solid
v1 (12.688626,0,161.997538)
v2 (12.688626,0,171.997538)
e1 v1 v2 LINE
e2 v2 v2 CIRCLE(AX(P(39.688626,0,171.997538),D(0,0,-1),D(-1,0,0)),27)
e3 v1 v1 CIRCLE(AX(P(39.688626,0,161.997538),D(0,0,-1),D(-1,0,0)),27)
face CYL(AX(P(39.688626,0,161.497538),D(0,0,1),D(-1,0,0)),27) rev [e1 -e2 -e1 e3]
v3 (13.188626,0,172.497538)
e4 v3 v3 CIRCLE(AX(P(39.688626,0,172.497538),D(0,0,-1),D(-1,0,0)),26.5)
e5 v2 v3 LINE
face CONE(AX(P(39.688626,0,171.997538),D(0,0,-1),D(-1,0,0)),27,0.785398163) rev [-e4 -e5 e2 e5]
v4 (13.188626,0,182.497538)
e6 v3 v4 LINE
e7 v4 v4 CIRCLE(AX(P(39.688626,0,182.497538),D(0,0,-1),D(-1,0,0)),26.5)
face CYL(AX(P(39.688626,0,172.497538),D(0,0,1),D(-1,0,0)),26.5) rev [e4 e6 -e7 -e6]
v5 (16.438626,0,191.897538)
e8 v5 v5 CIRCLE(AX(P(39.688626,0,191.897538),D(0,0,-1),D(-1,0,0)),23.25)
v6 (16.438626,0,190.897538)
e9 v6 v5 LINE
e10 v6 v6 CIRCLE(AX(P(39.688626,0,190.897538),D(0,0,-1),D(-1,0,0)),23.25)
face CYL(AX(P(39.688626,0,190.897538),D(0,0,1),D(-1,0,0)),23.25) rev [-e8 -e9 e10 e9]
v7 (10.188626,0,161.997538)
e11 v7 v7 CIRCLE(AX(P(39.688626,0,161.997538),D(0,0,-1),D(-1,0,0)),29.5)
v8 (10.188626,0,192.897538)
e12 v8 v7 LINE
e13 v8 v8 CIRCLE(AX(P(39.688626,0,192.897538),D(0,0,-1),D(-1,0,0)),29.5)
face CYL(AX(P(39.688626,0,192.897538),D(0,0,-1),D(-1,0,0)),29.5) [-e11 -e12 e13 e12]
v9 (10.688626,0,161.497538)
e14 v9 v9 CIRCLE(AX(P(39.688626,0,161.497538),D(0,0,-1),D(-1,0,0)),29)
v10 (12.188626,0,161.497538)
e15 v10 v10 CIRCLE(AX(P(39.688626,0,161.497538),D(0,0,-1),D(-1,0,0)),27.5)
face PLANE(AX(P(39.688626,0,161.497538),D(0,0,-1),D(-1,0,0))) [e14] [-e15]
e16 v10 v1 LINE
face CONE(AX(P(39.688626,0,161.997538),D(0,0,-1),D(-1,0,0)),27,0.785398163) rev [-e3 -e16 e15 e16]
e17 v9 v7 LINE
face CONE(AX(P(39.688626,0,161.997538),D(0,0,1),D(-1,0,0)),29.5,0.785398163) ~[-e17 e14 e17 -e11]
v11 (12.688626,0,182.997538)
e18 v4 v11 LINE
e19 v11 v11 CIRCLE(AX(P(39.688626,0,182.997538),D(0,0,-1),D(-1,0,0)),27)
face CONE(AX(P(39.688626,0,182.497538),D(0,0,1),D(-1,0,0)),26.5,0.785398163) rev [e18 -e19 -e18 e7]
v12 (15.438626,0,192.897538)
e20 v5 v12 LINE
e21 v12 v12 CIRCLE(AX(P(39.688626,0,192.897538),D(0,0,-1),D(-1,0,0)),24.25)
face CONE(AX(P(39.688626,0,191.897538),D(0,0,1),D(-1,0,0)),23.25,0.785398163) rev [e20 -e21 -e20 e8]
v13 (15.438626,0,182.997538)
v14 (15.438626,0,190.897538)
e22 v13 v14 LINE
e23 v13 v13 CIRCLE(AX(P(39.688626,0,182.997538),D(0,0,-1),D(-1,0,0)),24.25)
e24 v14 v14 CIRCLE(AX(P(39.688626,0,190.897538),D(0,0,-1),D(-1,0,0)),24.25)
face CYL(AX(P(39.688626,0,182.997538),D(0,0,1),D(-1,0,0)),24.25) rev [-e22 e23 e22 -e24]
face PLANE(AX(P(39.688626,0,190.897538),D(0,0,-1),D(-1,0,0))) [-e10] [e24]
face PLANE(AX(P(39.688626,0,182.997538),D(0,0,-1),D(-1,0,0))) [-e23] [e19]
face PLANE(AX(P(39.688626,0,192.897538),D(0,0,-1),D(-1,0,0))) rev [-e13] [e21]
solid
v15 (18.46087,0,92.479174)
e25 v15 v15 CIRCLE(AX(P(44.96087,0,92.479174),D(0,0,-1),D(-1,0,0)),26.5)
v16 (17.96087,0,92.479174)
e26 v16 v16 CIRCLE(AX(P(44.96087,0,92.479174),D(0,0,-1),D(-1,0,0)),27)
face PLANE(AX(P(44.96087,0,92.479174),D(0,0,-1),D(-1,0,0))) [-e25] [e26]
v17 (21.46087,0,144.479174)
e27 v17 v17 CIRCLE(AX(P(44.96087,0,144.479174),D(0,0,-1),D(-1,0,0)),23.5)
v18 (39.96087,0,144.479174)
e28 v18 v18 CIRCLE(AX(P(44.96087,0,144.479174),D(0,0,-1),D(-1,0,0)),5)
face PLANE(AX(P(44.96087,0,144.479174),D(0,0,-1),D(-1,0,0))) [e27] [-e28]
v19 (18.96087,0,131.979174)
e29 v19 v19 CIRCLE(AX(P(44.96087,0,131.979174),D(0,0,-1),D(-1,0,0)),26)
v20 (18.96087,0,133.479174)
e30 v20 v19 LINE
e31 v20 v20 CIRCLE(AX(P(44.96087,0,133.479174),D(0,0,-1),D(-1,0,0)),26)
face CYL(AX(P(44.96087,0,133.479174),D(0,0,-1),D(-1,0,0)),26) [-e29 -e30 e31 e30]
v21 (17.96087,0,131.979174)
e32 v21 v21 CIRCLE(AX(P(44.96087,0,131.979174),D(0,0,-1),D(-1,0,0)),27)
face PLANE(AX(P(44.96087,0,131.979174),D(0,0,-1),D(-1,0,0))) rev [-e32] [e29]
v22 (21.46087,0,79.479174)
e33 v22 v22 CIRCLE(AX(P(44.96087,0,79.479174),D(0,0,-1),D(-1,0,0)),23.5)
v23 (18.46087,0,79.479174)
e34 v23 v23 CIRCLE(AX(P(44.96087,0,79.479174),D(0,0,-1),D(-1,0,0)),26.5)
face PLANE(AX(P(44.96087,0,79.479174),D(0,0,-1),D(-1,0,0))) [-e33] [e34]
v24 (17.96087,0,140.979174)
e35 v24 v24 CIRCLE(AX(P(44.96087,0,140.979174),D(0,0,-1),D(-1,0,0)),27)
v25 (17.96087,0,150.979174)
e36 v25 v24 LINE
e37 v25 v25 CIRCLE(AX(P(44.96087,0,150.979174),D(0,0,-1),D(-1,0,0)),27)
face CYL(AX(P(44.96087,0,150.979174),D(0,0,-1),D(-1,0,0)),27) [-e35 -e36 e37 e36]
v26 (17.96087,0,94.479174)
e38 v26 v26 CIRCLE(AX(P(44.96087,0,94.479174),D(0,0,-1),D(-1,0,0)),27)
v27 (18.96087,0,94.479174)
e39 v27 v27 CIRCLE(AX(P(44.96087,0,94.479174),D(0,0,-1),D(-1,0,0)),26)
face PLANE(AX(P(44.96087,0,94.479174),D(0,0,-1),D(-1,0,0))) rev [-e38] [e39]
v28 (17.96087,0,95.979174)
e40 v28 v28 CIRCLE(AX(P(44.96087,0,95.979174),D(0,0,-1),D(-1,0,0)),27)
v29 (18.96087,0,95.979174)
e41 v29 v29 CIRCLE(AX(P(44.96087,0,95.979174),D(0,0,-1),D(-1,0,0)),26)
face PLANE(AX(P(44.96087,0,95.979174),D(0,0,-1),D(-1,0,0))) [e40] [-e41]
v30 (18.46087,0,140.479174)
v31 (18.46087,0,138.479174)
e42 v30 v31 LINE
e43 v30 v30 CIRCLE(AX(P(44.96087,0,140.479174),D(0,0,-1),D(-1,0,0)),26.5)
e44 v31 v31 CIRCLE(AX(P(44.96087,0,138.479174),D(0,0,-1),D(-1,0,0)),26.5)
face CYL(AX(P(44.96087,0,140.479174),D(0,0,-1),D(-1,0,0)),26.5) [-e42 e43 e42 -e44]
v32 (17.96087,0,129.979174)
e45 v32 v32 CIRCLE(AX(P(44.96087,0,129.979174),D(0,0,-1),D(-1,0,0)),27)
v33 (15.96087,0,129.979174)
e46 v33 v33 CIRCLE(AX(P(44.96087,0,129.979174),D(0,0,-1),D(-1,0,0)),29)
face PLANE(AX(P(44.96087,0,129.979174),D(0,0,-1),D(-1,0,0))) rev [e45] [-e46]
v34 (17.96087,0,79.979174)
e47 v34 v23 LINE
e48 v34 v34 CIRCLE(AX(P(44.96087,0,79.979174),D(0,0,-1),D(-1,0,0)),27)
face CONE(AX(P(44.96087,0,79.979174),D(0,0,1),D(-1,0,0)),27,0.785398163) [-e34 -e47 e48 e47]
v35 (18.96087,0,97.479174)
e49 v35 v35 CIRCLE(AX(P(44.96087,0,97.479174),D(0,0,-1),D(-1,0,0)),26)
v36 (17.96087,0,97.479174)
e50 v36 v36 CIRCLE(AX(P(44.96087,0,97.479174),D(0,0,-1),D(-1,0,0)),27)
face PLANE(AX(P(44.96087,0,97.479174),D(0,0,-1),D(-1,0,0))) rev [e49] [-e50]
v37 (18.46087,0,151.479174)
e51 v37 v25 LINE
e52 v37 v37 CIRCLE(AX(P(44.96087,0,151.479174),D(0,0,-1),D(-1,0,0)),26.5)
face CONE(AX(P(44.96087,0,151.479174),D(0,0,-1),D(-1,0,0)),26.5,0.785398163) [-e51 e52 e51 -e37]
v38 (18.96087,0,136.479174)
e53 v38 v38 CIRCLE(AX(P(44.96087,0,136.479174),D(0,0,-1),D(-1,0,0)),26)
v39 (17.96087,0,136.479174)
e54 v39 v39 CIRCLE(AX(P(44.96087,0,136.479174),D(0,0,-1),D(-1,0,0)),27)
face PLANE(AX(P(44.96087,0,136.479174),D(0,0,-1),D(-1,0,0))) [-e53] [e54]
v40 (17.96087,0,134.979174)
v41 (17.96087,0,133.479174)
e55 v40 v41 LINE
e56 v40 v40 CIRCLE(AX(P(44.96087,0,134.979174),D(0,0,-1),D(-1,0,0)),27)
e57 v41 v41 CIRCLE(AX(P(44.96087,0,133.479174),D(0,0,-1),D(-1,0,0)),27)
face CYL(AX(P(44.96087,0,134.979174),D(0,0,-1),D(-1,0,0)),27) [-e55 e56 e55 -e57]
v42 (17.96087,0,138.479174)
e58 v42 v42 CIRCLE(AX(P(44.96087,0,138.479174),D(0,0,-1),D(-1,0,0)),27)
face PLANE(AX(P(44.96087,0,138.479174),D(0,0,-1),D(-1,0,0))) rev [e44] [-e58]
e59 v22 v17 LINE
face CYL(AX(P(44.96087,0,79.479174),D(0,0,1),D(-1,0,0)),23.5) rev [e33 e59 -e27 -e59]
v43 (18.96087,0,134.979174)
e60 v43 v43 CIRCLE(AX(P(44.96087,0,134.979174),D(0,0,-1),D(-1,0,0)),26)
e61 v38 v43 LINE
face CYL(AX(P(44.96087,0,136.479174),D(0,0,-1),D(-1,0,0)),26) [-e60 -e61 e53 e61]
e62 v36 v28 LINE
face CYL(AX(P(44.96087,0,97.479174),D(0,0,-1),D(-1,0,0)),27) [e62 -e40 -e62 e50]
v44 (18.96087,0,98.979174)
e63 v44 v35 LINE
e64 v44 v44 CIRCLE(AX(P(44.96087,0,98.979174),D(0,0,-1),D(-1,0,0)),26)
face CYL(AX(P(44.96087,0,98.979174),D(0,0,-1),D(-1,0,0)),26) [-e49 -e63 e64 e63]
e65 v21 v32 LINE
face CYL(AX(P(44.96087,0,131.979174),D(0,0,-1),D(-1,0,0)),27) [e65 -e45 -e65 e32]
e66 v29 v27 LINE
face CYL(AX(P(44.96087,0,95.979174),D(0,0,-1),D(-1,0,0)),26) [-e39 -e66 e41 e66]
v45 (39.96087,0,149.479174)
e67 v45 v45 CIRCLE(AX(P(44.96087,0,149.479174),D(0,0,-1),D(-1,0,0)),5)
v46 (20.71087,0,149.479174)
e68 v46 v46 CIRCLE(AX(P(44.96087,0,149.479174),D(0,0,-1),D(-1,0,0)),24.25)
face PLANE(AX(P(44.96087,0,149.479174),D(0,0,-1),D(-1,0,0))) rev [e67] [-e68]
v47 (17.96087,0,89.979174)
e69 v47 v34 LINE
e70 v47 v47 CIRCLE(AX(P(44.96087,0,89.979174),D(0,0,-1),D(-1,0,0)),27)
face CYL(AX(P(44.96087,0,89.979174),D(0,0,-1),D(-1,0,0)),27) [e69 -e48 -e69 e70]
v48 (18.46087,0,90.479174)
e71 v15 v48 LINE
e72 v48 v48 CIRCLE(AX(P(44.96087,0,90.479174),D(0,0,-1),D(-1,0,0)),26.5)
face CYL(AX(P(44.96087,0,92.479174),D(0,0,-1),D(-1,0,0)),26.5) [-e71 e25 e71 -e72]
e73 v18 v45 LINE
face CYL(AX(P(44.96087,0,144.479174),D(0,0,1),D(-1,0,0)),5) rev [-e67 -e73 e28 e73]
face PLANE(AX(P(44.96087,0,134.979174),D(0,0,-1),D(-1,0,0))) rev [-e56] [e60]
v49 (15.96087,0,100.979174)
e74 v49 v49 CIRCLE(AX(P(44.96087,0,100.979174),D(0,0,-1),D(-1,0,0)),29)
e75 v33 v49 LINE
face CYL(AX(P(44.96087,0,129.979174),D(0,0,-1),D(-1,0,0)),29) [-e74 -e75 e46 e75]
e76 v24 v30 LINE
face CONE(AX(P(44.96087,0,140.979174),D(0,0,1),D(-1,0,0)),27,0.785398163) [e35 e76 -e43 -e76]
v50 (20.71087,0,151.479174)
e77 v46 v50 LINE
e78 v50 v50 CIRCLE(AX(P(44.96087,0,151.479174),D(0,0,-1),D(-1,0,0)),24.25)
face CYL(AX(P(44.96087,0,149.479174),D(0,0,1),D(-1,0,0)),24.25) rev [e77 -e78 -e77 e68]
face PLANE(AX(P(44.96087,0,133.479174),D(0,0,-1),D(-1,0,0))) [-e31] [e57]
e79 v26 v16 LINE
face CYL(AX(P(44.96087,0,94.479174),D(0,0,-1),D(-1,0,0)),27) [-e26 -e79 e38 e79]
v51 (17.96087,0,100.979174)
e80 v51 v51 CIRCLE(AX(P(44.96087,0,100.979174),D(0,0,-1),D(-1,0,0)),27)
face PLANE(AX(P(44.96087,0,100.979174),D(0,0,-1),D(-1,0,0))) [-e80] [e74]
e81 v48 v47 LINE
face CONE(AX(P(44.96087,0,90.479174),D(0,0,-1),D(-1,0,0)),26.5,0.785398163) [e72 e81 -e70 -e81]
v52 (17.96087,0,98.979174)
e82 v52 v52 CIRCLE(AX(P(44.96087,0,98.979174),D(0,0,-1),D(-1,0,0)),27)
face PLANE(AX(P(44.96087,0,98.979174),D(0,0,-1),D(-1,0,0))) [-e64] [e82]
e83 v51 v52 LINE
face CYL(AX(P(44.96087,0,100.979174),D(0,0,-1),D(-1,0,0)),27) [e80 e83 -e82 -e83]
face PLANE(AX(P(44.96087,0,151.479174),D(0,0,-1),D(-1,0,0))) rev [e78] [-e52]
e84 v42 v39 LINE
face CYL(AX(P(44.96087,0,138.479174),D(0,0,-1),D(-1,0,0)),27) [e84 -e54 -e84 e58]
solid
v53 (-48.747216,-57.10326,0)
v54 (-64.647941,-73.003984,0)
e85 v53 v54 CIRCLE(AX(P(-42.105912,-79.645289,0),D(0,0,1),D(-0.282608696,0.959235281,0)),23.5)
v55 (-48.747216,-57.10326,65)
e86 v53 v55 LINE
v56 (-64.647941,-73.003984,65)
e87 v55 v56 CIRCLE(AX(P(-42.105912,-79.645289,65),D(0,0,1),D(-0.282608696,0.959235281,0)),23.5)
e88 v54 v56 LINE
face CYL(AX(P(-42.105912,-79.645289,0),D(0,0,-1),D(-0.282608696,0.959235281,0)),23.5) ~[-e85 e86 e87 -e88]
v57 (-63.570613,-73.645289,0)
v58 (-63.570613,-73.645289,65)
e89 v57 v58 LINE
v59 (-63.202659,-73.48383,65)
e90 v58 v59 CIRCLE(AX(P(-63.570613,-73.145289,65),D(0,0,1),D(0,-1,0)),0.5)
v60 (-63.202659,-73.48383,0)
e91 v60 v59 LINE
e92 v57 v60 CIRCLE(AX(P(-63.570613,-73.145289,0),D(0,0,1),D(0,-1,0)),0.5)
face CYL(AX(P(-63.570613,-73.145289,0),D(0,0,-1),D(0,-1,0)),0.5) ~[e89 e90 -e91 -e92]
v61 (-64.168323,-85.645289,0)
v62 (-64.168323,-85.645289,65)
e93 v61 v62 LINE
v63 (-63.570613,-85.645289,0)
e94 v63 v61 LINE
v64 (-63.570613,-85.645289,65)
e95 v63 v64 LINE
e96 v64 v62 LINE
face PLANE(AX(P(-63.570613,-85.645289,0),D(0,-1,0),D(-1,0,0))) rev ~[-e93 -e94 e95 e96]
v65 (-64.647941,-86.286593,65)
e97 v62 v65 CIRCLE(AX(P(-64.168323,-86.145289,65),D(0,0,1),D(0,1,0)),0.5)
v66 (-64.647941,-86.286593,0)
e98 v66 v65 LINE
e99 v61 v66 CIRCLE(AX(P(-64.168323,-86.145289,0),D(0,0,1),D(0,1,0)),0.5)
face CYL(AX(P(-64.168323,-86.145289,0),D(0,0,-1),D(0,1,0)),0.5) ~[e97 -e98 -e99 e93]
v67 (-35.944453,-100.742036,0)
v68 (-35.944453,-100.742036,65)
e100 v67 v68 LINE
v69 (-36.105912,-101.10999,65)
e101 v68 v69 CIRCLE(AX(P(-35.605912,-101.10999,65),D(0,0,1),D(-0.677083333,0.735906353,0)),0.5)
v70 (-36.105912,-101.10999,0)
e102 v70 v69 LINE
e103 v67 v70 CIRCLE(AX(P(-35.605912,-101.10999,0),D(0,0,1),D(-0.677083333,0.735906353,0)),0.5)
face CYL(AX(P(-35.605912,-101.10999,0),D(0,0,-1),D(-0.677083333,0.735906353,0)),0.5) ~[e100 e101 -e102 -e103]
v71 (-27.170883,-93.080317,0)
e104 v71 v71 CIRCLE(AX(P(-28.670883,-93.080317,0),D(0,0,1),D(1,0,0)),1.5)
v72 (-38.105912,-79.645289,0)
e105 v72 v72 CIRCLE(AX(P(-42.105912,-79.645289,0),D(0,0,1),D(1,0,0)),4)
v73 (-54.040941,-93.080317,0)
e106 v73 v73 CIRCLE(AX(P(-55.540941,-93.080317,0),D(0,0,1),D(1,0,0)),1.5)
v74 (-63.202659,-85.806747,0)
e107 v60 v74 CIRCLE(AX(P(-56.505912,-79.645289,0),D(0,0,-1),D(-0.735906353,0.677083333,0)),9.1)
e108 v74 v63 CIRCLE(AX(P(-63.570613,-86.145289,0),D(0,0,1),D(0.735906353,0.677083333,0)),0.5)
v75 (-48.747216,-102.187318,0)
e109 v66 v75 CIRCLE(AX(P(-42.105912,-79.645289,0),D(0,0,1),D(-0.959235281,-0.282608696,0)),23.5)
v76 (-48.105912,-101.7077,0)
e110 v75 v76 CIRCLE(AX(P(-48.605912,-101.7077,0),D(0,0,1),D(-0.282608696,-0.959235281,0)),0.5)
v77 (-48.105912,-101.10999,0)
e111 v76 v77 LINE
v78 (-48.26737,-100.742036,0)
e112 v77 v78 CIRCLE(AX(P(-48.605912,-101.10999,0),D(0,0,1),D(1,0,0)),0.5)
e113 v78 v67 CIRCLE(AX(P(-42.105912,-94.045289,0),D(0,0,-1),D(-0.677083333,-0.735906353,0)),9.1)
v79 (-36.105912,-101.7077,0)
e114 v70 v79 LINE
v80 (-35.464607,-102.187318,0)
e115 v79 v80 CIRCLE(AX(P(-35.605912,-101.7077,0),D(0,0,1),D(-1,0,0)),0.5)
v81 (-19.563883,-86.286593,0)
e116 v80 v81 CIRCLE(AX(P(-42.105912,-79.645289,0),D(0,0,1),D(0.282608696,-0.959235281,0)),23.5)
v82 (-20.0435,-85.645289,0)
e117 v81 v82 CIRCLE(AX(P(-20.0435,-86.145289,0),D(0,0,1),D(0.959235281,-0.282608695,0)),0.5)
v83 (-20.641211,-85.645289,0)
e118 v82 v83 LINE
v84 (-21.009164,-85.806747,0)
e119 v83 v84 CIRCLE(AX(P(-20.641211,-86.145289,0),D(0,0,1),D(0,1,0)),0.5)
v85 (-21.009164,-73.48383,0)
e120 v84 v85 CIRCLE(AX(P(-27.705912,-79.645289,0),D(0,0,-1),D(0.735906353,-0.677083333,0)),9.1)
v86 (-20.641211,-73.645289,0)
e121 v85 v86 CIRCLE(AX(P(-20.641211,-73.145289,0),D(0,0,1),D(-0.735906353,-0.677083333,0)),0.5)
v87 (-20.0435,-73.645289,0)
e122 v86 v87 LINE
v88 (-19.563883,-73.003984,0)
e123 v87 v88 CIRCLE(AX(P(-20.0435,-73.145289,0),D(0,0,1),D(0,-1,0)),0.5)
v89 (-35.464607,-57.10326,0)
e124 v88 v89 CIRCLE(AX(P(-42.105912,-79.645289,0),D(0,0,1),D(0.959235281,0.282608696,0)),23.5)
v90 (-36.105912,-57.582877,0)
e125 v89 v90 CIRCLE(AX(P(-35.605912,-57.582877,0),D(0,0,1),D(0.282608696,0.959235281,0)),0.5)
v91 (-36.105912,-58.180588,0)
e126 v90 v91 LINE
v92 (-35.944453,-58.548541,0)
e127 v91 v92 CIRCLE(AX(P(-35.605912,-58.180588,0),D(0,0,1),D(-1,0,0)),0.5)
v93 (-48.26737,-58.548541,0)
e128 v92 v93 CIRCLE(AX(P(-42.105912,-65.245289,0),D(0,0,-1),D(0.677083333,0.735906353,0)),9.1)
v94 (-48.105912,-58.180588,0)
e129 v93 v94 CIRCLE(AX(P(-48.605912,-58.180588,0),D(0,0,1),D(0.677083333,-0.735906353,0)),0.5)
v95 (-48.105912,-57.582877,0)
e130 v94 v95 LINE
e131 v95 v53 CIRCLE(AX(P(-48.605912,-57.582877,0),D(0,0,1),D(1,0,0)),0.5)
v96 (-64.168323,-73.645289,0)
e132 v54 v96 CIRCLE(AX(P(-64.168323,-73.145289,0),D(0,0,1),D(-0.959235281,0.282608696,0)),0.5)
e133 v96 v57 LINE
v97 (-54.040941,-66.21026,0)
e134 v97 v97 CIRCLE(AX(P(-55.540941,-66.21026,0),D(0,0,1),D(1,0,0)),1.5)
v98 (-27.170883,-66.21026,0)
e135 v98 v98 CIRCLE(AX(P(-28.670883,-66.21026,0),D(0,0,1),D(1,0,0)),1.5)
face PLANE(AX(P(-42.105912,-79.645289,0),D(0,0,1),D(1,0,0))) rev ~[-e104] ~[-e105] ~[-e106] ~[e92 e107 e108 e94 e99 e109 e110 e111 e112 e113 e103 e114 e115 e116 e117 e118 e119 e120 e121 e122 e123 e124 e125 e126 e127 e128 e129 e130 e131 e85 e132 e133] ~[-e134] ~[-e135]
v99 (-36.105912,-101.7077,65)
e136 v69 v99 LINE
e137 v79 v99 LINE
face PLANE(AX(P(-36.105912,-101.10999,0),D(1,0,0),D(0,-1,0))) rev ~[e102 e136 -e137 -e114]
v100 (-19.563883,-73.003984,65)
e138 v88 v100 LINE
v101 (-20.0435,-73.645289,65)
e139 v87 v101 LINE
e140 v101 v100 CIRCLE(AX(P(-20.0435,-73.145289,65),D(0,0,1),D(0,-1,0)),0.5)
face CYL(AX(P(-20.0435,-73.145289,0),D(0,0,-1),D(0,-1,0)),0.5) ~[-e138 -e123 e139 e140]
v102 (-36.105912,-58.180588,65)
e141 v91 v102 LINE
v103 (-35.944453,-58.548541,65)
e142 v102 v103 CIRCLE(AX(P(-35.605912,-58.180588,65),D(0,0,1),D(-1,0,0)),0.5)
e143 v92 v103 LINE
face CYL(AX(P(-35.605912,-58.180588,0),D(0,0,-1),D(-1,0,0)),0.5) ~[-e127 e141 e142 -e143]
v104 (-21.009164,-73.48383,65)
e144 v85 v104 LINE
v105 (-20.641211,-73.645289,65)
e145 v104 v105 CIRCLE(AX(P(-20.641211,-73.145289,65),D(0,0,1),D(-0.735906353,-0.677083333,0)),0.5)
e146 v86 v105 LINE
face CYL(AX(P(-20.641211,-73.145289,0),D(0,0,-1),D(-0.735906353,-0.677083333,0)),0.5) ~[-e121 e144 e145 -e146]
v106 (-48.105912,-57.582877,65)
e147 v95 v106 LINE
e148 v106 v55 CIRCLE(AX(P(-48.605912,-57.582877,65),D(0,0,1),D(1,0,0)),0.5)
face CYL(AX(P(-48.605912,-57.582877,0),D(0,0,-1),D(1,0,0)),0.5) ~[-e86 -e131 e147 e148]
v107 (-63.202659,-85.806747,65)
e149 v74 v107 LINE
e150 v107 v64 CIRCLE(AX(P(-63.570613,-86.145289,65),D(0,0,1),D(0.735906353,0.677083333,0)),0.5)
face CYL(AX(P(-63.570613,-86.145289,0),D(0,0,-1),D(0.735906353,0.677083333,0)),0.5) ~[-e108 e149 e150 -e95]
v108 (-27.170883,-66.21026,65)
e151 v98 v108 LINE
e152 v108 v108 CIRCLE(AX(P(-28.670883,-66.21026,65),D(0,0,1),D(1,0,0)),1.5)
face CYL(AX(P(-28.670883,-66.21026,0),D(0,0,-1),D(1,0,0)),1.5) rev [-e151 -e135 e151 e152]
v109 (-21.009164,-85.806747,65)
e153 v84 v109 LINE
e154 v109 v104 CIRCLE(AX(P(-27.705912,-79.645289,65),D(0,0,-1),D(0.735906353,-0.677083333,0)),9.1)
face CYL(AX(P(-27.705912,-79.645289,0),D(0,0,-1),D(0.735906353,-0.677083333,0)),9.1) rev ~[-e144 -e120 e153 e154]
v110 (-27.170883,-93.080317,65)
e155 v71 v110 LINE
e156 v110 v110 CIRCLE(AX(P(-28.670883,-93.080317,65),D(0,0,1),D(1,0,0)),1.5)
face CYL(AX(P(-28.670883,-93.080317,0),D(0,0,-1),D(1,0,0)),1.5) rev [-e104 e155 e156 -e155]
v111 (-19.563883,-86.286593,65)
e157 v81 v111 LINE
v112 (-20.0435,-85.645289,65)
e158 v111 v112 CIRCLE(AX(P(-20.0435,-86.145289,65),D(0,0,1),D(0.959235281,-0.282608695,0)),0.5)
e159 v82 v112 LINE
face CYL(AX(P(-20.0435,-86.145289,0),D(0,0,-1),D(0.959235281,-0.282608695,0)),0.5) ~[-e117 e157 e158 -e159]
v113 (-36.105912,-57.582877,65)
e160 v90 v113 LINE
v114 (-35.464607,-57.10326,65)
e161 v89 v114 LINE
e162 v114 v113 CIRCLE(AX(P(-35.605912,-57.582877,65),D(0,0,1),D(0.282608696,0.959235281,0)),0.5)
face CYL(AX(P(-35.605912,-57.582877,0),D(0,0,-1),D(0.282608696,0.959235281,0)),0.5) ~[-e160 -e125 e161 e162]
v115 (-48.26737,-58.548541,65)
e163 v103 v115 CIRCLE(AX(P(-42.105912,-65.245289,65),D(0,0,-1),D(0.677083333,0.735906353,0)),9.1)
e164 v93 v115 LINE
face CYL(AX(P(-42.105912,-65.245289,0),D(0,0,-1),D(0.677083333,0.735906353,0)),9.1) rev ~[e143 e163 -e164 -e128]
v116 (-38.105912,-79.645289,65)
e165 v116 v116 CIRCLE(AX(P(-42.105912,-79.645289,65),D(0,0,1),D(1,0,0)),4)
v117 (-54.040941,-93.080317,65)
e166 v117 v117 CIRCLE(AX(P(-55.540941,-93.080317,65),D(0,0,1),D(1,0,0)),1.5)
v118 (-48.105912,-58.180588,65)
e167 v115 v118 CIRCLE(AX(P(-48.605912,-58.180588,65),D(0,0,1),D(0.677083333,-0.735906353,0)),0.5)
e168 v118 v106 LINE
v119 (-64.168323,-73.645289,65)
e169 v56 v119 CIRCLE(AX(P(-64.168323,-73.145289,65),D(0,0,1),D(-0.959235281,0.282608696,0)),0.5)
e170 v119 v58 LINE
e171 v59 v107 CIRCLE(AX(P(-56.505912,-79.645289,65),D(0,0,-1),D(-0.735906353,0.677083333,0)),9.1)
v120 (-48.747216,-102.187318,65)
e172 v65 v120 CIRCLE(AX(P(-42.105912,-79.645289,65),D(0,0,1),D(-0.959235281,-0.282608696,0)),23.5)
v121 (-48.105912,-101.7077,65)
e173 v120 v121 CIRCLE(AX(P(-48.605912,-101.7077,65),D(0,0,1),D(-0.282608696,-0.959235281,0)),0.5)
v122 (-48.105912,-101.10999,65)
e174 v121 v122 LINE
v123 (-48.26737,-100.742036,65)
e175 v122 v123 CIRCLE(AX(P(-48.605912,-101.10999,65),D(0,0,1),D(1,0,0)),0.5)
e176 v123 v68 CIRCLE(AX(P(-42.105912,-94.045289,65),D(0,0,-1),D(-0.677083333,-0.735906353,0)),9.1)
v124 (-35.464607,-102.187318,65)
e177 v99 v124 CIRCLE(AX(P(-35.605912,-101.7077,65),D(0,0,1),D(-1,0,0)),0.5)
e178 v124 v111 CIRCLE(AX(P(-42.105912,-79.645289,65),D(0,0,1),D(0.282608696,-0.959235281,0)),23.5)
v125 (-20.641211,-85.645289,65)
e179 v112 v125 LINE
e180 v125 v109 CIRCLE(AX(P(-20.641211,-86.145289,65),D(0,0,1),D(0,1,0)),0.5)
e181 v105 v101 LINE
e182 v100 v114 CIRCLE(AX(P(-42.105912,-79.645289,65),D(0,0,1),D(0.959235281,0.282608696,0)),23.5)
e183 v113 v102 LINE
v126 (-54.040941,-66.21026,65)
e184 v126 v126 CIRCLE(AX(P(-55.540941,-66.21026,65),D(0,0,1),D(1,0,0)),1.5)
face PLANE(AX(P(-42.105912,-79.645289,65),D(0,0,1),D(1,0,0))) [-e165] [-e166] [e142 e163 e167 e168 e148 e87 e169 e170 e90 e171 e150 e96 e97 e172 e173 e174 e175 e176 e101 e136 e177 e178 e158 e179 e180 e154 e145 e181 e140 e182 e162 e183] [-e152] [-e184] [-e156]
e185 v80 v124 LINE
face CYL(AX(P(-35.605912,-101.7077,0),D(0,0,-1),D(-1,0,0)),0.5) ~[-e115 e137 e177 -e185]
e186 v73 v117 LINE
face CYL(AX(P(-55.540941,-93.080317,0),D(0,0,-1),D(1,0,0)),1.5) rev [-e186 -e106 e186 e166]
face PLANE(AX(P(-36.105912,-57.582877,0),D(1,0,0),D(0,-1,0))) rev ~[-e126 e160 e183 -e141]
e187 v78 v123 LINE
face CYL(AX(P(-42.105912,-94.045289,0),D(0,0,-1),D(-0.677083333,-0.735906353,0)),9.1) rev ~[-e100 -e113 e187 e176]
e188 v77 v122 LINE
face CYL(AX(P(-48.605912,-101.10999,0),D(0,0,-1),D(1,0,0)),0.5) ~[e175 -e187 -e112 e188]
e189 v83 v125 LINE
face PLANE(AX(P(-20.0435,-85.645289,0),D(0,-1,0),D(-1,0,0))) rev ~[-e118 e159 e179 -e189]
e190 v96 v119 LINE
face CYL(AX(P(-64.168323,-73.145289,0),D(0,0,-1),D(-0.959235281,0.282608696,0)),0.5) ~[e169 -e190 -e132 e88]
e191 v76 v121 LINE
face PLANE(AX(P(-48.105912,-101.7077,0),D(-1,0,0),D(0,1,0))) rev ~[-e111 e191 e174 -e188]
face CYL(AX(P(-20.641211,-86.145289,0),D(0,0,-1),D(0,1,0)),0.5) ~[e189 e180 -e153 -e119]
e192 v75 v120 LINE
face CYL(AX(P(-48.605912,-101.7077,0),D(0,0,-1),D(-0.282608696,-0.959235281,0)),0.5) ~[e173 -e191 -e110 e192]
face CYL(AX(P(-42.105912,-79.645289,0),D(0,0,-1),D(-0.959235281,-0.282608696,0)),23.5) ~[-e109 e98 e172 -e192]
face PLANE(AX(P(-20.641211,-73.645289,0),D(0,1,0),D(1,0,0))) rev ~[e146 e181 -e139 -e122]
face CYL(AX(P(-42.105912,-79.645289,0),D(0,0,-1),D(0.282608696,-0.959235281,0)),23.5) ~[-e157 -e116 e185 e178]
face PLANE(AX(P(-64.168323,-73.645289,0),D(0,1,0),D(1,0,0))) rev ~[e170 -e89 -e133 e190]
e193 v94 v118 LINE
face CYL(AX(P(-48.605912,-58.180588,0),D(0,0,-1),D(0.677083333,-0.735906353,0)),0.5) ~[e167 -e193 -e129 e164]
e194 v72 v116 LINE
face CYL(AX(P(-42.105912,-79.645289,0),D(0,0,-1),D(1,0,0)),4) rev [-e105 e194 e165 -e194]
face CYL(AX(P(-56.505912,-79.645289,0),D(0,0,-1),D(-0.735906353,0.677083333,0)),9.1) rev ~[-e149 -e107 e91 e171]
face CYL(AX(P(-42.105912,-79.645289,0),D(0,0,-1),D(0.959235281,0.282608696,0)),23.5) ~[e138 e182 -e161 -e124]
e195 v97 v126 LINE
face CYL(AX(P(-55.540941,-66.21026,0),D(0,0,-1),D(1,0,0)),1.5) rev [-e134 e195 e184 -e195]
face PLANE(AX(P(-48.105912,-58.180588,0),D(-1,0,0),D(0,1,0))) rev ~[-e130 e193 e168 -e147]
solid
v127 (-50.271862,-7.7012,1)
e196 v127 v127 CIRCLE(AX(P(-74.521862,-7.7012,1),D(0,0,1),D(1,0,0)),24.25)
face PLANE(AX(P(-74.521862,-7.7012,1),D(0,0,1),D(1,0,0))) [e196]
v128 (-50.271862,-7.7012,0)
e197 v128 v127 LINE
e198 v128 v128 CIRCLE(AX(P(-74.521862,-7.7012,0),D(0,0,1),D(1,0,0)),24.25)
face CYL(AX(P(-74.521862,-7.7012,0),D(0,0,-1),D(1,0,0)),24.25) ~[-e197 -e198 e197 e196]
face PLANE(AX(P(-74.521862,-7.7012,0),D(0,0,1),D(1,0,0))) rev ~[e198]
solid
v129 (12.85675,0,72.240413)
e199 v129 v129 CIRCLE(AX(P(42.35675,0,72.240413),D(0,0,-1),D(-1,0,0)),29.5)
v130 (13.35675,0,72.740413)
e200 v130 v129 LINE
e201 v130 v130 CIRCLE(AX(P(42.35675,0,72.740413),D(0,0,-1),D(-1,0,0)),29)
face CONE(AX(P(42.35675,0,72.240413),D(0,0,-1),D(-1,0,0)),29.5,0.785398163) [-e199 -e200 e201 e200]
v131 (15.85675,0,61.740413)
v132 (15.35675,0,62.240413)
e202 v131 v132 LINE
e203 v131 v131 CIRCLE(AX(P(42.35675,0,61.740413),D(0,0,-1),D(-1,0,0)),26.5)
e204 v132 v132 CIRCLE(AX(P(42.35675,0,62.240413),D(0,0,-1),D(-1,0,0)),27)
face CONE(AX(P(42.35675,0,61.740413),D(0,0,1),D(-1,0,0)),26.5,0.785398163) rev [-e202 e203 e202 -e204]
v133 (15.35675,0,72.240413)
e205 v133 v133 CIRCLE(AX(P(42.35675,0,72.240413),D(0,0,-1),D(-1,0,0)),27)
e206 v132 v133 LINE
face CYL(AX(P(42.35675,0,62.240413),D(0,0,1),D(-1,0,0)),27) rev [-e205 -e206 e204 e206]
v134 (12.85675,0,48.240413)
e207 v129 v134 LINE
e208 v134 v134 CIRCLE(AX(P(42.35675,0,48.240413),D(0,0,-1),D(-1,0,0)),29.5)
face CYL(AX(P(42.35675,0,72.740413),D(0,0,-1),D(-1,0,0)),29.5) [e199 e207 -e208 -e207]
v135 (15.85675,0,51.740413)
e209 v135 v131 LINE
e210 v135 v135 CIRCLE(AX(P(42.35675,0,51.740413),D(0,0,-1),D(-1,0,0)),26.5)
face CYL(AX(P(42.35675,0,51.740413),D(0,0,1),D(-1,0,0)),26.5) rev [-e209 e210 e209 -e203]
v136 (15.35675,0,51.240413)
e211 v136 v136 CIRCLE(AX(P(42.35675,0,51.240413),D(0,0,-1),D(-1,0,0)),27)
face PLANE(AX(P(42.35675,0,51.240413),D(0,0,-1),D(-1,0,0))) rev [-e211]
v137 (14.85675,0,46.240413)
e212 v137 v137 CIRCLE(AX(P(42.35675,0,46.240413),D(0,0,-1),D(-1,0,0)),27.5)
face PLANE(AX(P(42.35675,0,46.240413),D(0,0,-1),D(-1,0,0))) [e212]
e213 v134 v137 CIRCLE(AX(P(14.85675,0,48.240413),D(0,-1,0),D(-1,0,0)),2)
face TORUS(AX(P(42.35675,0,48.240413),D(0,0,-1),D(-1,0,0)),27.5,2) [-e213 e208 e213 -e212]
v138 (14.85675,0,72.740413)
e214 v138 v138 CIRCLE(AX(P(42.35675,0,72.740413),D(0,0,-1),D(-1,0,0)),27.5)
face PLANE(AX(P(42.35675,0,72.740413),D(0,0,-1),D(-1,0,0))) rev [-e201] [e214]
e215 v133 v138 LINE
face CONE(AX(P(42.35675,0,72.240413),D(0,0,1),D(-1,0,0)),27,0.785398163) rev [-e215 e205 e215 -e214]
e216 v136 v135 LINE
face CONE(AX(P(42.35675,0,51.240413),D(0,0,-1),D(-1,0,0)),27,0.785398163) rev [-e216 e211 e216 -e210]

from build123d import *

# Parameters (mm, degrees)
F0_R     = 24.25
F1_DEPTH = 1
F2_R     = 1.5
F2_R_2   = 4
F3_DEPTH = 65
F8_SIZE  = 0.5
F9_SIZE  = 0.5
F12_SIZE = 0.5


with BuildPart() as f1:
    # F0 (on Top) → F1 (new body)
    with BuildSketch(Plane.XY):
        with Locations((-74.5218619704, -7.7011999674)):
            Circle(F0_R)
    extrude(amount=F1_DEPTH)


with BuildPart() as f3:
    # F2 (on Top) → F3 (new body)
    with BuildSketch(Plane.XY):
        with BuildLine():
            ThreePointArc((-48.105911685, -57.5828771619), (-48.3064556564, -57.1824697607), (-48.7472160328, -57.1032595212))
            ThreePointArc((-48.7472160328, -57.1032595212), (-58.7229210429, -63.0282792769), (-64.6479407986, -73.003984287))
            ThreePointArc((-64.6479407986, -73.003984287), (-64.5687305591, -73.4447446634), (-64.1683231579, -73.6452886348))
            Line((-64.1683231579, -73.6452886348), (-63.5706126695, -73.6452886348))
            ThreePointArc((-63.5706126695, -73.6452886348), (-63.3697032786, -73.6031482385), (-63.2026594932, -73.4838303015))
            ThreePointArc((-63.2026594932, -73.4838303015), (-47.405911685, -79.6452886348), (-63.2026594932, -85.8067469682))
            ThreePointArc((-63.2026594932, -85.8067469682), (-63.3697032786, -85.6874290312), (-63.5706126695, -85.6452886348))
            Line((-63.5706126695, -85.6452886348), (-64.1683231579, -85.6452886348))
            ThreePointArc((-64.1683231579, -85.6452886348), (-64.5687305591, -85.8458326063), (-64.6479407986, -86.2865929826))
            ThreePointArc((-64.6479407986, -86.2865929826), (-58.7229210429, -96.2622979927), (-48.7472160328, -102.1873177484))
            ThreePointArc((-48.7472160328, -102.1873177484), (-48.3064556564, -102.108107509), (-48.105911685, -101.7077001077))
            Line((-48.105911685, -101.7077001077), (-48.105911685, -101.1099896193))
            ThreePointArc((-48.105911685, -101.1099896193), (-48.1480520813, -100.9090802284), (-48.2673700183, -100.742036443))
            ThreePointArc((-48.2673700183, -100.742036443), (-42.105911685, -84.9452886348), (-35.9444533517, -100.742036443))
            ThreePointArc((-35.9444533517, -100.742036443), (-36.0637712887, -100.9090802284), (-36.105911685, -101.1099896193))
            Line((-36.105911685, -101.1099896193), (-36.105911685, -101.7077001077))
            ThreePointArc((-36.105911685, -101.7077001077), (-35.9053677136, -102.108107509), (-35.4646073372, -102.1873177484))
            ThreePointArc((-35.4646073372, -102.1873177484), (-25.4889023271, -96.2622979927), (-19.5638825714, -86.2865929826))
            ThreePointArc((-19.5638825714, -86.2865929826), (-19.6430928109, -85.8458326063), (-20.0435002121, -85.6452886348))
            Line((-20.0435002121, -85.6452886348), (-20.6412107005, -85.6452886348))
            ThreePointArc((-20.6412107005, -85.6452886348), (-20.8421200914, -85.6874290312), (-21.0091638768, -85.8067469682))
            ThreePointArc((-21.0091638768, -85.8067469682), (-36.805911685, -79.6452886348), (-21.0091638768, -73.4838303015))
            ThreePointArc((-21.0091638768, -73.4838303015), (-20.8421200914, -73.6031482385), (-20.6412107005, -73.6452886348))
            Line((-20.6412107005, -73.6452886348), (-20.0435002121, -73.6452886348))
            ThreePointArc((-20.0435002121, -73.6452886348), (-19.6430928109, -73.4447446634), (-19.5638825714, -73.003984287))
            ThreePointArc((-19.5638825714, -73.003984287), (-25.4889023271, -63.0282792769), (-35.4646073372, -57.1032595212))
            ThreePointArc((-35.4646073372, -57.1032595212), (-35.9053677136, -57.1824697607), (-36.105911685, -57.5828771619))
            Line((-36.105911685, -57.5828771619), (-36.105911685, -58.1805876503))
            ThreePointArc((-36.105911685, -58.1805876503), (-36.0637712887, -58.3814970412), (-35.9444533517, -58.5485408266))
            ThreePointArc((-35.9444533517, -58.5485408266), (-42.105911685, -74.3452886348), (-48.2673700183, -58.5485408266))
            ThreePointArc((-48.2673700183, -58.5485408266), (-48.1480520813, -58.3814970412), (-48.105911685, -58.1805876503))
            Line((-48.105911685, -58.1805876503), (-48.105911685, -57.5828771619))
        make_face()
        with Locations((-55.5409405275, -93.0803174774)):
            Circle(F2_R, mode=Mode.SUBTRACT)
        with Locations((-28.6708828425, -93.0803174774)):
            Circle(F2_R, mode=Mode.SUBTRACT)
        with Locations((-42.105911685, -79.6452886348)):
            Circle(F2_R_2, mode=Mode.SUBTRACT)
        with Locations((-55.5409405275, -66.2102597923)):
            Circle(F2_R, mode=Mode.SUBTRACT)
        with Locations((-28.6708828425, -66.2102597923)):
            Circle(F2_R, mode=Mode.SUBTRACT)
    extrude(amount=F3_DEPTH)


with BuildPart() as f5:
    # F4 (on Front) → F5 (revolve)
    with BuildSketch(Plane.XZ):
        Polygon((18.4608697524, 79.4791738288), (21.4608697524, 79.4791738288), (21.4608697524, 144.4791738288), (39.9608697524, 144.4791738288), (39.9608697524, 149.4791738288), (20.7108697524, 149.4791738288), (20.7108697524, 151.4791738288), (18.4608697524, 151.4791738288), (17.9608697524, 150.9791738288), (17.9608697524, 140.9791738288), (18.4608697524, 140.4791738288), (18.4608697524, 138.4791738288), (17.9608697524, 138.4791738288), (17.9608697524, 136.4791738288), (18.9608697524, 136.4791738288), (18.9608697524, 134.9791738288), (17.9608697524, 134.9791738288), (17.9608697524, 133.4791738288), (18.9608697524, 133.4791738288), (18.9608697524, 131.9791738288), (17.9608697524, 131.9791738288), (17.9608697524, 129.9791738288), (15.9608697524, 129.9791738288), (15.9608697524, 100.9791738288), (17.9608697524, 100.9791738288), (17.9608697524, 98.9791738288), (18.9608697524, 98.9791738288), (18.9608697524, 97.4791738288), (17.9608697524, 97.4791738288), (17.9608697524, 95.9791738288), (18.9608697524, 95.9791738288), (18.9608697524, 94.4791738288), (17.9608697524, 94.4791738288), (17.9608697524, 92.4791738288), (18.4608697524, 92.4791738288), (18.4608697524, 90.4791738288), (17.9608697524, 89.9791738288), (17.9608697524, 79.9791738288), align=None)
    revolve(axis=Axis((44.9608697524, 0, 104.6637222171), (0, 0, -1)))


with BuildPart() as f7:
    # F6 (on Front) → F7 (revolve)
    with BuildSketch(Plane.XZ):
        with BuildLine():
            Line((42.3567502275, 46.2404132718), (42.3567502275, 51.2404132718))
            Line((42.3567502275, 51.2404132718), (15.8567502275, 51.2404132718))
            Line((15.8567502275, 51.2404132718), (15.3567502275, 51.2404132718))
            Line((15.3567502275, 51.2404132718), (15.8567502275, 51.7404132718))
            Line((15.8567502275, 51.7404132718), (15.8567502275, 61.7404132718))
            Line((15.8567502275, 61.7404132718), (15.3567502275, 62.2404132718))
            Line((15.3567502275, 62.2404132718), (15.3567502275, 72.7404132718))
            Line((15.3567502275, 72.7404132718), (12.8567502275, 72.7404132718))
            Line((12.8567502275, 72.7404132718), (12.8567502275, 48.2404132718))
            ThreePointArc((12.8567502275, 48.2404132718), (13.4425366651, 46.8261997095), (14.8567502275, 46.2404132718))
            Line((14.8567502275, 46.2404132718), (42.3567502275, 46.2404132718))
        make_face()
    revolve(axis=Axis((42.3567502275, 0, 61.1060392112), (0, 0, -1)))

    # F8
    f8_edges = [f7.edges().sort_by_distance(p)[0] for p in [
        (69.35675, 0, 72.740413),
    ]]
    chamfer(f8_edges, length=F8_SIZE)

    # F9
    f9_edges = [f7.edges().sort_by_distance(p)[0] for p in [
        (71.85675, 0, 72.740413),
    ]]
    chamfer(f9_edges, length=F9_SIZE)


with BuildPart() as f11:
    # F10 (on Front) → F11 (revolve)
    with BuildSketch(Plane.XZ):
        Polygon((10.1886256039, 161.4975384899), (12.6886256039, 161.4975384899), (12.6886256039, 171.9975384899), (12.6886256039, 182.9975384899), (15.4386256039, 182.9975384899), (15.4386256039, 190.8975384899), (16.4386256039, 190.8975384899), (16.4386256039, 191.8975384899), (15.4386256039, 192.8975384899), (10.1886256039, 192.8975384899), (10.1886256039, 191.3968953558), align=None)
        Polygon((12.6886256039, 182.9975384899), (12.6886256039, 171.9975384899), (13.1886256039, 172.4975384899), (13.1886256039, 182.4975384899), align=None)
    revolve(axis=Axis((39.6886256039, 0, 177.3419305682), (0, 0, -1)))

    # F12
    f12_edges = [f11.edges().sort_by_distance(p)[0] for p in [
        (69.188626, 0, 161.497538),
        (66.688626, 0, 161.497538),
    ]]
    chamfer(f12_edges, length=F12_SIZE)


solid = Compound([f1.part, f3.part, f5.part, f7.part, f11.part])
